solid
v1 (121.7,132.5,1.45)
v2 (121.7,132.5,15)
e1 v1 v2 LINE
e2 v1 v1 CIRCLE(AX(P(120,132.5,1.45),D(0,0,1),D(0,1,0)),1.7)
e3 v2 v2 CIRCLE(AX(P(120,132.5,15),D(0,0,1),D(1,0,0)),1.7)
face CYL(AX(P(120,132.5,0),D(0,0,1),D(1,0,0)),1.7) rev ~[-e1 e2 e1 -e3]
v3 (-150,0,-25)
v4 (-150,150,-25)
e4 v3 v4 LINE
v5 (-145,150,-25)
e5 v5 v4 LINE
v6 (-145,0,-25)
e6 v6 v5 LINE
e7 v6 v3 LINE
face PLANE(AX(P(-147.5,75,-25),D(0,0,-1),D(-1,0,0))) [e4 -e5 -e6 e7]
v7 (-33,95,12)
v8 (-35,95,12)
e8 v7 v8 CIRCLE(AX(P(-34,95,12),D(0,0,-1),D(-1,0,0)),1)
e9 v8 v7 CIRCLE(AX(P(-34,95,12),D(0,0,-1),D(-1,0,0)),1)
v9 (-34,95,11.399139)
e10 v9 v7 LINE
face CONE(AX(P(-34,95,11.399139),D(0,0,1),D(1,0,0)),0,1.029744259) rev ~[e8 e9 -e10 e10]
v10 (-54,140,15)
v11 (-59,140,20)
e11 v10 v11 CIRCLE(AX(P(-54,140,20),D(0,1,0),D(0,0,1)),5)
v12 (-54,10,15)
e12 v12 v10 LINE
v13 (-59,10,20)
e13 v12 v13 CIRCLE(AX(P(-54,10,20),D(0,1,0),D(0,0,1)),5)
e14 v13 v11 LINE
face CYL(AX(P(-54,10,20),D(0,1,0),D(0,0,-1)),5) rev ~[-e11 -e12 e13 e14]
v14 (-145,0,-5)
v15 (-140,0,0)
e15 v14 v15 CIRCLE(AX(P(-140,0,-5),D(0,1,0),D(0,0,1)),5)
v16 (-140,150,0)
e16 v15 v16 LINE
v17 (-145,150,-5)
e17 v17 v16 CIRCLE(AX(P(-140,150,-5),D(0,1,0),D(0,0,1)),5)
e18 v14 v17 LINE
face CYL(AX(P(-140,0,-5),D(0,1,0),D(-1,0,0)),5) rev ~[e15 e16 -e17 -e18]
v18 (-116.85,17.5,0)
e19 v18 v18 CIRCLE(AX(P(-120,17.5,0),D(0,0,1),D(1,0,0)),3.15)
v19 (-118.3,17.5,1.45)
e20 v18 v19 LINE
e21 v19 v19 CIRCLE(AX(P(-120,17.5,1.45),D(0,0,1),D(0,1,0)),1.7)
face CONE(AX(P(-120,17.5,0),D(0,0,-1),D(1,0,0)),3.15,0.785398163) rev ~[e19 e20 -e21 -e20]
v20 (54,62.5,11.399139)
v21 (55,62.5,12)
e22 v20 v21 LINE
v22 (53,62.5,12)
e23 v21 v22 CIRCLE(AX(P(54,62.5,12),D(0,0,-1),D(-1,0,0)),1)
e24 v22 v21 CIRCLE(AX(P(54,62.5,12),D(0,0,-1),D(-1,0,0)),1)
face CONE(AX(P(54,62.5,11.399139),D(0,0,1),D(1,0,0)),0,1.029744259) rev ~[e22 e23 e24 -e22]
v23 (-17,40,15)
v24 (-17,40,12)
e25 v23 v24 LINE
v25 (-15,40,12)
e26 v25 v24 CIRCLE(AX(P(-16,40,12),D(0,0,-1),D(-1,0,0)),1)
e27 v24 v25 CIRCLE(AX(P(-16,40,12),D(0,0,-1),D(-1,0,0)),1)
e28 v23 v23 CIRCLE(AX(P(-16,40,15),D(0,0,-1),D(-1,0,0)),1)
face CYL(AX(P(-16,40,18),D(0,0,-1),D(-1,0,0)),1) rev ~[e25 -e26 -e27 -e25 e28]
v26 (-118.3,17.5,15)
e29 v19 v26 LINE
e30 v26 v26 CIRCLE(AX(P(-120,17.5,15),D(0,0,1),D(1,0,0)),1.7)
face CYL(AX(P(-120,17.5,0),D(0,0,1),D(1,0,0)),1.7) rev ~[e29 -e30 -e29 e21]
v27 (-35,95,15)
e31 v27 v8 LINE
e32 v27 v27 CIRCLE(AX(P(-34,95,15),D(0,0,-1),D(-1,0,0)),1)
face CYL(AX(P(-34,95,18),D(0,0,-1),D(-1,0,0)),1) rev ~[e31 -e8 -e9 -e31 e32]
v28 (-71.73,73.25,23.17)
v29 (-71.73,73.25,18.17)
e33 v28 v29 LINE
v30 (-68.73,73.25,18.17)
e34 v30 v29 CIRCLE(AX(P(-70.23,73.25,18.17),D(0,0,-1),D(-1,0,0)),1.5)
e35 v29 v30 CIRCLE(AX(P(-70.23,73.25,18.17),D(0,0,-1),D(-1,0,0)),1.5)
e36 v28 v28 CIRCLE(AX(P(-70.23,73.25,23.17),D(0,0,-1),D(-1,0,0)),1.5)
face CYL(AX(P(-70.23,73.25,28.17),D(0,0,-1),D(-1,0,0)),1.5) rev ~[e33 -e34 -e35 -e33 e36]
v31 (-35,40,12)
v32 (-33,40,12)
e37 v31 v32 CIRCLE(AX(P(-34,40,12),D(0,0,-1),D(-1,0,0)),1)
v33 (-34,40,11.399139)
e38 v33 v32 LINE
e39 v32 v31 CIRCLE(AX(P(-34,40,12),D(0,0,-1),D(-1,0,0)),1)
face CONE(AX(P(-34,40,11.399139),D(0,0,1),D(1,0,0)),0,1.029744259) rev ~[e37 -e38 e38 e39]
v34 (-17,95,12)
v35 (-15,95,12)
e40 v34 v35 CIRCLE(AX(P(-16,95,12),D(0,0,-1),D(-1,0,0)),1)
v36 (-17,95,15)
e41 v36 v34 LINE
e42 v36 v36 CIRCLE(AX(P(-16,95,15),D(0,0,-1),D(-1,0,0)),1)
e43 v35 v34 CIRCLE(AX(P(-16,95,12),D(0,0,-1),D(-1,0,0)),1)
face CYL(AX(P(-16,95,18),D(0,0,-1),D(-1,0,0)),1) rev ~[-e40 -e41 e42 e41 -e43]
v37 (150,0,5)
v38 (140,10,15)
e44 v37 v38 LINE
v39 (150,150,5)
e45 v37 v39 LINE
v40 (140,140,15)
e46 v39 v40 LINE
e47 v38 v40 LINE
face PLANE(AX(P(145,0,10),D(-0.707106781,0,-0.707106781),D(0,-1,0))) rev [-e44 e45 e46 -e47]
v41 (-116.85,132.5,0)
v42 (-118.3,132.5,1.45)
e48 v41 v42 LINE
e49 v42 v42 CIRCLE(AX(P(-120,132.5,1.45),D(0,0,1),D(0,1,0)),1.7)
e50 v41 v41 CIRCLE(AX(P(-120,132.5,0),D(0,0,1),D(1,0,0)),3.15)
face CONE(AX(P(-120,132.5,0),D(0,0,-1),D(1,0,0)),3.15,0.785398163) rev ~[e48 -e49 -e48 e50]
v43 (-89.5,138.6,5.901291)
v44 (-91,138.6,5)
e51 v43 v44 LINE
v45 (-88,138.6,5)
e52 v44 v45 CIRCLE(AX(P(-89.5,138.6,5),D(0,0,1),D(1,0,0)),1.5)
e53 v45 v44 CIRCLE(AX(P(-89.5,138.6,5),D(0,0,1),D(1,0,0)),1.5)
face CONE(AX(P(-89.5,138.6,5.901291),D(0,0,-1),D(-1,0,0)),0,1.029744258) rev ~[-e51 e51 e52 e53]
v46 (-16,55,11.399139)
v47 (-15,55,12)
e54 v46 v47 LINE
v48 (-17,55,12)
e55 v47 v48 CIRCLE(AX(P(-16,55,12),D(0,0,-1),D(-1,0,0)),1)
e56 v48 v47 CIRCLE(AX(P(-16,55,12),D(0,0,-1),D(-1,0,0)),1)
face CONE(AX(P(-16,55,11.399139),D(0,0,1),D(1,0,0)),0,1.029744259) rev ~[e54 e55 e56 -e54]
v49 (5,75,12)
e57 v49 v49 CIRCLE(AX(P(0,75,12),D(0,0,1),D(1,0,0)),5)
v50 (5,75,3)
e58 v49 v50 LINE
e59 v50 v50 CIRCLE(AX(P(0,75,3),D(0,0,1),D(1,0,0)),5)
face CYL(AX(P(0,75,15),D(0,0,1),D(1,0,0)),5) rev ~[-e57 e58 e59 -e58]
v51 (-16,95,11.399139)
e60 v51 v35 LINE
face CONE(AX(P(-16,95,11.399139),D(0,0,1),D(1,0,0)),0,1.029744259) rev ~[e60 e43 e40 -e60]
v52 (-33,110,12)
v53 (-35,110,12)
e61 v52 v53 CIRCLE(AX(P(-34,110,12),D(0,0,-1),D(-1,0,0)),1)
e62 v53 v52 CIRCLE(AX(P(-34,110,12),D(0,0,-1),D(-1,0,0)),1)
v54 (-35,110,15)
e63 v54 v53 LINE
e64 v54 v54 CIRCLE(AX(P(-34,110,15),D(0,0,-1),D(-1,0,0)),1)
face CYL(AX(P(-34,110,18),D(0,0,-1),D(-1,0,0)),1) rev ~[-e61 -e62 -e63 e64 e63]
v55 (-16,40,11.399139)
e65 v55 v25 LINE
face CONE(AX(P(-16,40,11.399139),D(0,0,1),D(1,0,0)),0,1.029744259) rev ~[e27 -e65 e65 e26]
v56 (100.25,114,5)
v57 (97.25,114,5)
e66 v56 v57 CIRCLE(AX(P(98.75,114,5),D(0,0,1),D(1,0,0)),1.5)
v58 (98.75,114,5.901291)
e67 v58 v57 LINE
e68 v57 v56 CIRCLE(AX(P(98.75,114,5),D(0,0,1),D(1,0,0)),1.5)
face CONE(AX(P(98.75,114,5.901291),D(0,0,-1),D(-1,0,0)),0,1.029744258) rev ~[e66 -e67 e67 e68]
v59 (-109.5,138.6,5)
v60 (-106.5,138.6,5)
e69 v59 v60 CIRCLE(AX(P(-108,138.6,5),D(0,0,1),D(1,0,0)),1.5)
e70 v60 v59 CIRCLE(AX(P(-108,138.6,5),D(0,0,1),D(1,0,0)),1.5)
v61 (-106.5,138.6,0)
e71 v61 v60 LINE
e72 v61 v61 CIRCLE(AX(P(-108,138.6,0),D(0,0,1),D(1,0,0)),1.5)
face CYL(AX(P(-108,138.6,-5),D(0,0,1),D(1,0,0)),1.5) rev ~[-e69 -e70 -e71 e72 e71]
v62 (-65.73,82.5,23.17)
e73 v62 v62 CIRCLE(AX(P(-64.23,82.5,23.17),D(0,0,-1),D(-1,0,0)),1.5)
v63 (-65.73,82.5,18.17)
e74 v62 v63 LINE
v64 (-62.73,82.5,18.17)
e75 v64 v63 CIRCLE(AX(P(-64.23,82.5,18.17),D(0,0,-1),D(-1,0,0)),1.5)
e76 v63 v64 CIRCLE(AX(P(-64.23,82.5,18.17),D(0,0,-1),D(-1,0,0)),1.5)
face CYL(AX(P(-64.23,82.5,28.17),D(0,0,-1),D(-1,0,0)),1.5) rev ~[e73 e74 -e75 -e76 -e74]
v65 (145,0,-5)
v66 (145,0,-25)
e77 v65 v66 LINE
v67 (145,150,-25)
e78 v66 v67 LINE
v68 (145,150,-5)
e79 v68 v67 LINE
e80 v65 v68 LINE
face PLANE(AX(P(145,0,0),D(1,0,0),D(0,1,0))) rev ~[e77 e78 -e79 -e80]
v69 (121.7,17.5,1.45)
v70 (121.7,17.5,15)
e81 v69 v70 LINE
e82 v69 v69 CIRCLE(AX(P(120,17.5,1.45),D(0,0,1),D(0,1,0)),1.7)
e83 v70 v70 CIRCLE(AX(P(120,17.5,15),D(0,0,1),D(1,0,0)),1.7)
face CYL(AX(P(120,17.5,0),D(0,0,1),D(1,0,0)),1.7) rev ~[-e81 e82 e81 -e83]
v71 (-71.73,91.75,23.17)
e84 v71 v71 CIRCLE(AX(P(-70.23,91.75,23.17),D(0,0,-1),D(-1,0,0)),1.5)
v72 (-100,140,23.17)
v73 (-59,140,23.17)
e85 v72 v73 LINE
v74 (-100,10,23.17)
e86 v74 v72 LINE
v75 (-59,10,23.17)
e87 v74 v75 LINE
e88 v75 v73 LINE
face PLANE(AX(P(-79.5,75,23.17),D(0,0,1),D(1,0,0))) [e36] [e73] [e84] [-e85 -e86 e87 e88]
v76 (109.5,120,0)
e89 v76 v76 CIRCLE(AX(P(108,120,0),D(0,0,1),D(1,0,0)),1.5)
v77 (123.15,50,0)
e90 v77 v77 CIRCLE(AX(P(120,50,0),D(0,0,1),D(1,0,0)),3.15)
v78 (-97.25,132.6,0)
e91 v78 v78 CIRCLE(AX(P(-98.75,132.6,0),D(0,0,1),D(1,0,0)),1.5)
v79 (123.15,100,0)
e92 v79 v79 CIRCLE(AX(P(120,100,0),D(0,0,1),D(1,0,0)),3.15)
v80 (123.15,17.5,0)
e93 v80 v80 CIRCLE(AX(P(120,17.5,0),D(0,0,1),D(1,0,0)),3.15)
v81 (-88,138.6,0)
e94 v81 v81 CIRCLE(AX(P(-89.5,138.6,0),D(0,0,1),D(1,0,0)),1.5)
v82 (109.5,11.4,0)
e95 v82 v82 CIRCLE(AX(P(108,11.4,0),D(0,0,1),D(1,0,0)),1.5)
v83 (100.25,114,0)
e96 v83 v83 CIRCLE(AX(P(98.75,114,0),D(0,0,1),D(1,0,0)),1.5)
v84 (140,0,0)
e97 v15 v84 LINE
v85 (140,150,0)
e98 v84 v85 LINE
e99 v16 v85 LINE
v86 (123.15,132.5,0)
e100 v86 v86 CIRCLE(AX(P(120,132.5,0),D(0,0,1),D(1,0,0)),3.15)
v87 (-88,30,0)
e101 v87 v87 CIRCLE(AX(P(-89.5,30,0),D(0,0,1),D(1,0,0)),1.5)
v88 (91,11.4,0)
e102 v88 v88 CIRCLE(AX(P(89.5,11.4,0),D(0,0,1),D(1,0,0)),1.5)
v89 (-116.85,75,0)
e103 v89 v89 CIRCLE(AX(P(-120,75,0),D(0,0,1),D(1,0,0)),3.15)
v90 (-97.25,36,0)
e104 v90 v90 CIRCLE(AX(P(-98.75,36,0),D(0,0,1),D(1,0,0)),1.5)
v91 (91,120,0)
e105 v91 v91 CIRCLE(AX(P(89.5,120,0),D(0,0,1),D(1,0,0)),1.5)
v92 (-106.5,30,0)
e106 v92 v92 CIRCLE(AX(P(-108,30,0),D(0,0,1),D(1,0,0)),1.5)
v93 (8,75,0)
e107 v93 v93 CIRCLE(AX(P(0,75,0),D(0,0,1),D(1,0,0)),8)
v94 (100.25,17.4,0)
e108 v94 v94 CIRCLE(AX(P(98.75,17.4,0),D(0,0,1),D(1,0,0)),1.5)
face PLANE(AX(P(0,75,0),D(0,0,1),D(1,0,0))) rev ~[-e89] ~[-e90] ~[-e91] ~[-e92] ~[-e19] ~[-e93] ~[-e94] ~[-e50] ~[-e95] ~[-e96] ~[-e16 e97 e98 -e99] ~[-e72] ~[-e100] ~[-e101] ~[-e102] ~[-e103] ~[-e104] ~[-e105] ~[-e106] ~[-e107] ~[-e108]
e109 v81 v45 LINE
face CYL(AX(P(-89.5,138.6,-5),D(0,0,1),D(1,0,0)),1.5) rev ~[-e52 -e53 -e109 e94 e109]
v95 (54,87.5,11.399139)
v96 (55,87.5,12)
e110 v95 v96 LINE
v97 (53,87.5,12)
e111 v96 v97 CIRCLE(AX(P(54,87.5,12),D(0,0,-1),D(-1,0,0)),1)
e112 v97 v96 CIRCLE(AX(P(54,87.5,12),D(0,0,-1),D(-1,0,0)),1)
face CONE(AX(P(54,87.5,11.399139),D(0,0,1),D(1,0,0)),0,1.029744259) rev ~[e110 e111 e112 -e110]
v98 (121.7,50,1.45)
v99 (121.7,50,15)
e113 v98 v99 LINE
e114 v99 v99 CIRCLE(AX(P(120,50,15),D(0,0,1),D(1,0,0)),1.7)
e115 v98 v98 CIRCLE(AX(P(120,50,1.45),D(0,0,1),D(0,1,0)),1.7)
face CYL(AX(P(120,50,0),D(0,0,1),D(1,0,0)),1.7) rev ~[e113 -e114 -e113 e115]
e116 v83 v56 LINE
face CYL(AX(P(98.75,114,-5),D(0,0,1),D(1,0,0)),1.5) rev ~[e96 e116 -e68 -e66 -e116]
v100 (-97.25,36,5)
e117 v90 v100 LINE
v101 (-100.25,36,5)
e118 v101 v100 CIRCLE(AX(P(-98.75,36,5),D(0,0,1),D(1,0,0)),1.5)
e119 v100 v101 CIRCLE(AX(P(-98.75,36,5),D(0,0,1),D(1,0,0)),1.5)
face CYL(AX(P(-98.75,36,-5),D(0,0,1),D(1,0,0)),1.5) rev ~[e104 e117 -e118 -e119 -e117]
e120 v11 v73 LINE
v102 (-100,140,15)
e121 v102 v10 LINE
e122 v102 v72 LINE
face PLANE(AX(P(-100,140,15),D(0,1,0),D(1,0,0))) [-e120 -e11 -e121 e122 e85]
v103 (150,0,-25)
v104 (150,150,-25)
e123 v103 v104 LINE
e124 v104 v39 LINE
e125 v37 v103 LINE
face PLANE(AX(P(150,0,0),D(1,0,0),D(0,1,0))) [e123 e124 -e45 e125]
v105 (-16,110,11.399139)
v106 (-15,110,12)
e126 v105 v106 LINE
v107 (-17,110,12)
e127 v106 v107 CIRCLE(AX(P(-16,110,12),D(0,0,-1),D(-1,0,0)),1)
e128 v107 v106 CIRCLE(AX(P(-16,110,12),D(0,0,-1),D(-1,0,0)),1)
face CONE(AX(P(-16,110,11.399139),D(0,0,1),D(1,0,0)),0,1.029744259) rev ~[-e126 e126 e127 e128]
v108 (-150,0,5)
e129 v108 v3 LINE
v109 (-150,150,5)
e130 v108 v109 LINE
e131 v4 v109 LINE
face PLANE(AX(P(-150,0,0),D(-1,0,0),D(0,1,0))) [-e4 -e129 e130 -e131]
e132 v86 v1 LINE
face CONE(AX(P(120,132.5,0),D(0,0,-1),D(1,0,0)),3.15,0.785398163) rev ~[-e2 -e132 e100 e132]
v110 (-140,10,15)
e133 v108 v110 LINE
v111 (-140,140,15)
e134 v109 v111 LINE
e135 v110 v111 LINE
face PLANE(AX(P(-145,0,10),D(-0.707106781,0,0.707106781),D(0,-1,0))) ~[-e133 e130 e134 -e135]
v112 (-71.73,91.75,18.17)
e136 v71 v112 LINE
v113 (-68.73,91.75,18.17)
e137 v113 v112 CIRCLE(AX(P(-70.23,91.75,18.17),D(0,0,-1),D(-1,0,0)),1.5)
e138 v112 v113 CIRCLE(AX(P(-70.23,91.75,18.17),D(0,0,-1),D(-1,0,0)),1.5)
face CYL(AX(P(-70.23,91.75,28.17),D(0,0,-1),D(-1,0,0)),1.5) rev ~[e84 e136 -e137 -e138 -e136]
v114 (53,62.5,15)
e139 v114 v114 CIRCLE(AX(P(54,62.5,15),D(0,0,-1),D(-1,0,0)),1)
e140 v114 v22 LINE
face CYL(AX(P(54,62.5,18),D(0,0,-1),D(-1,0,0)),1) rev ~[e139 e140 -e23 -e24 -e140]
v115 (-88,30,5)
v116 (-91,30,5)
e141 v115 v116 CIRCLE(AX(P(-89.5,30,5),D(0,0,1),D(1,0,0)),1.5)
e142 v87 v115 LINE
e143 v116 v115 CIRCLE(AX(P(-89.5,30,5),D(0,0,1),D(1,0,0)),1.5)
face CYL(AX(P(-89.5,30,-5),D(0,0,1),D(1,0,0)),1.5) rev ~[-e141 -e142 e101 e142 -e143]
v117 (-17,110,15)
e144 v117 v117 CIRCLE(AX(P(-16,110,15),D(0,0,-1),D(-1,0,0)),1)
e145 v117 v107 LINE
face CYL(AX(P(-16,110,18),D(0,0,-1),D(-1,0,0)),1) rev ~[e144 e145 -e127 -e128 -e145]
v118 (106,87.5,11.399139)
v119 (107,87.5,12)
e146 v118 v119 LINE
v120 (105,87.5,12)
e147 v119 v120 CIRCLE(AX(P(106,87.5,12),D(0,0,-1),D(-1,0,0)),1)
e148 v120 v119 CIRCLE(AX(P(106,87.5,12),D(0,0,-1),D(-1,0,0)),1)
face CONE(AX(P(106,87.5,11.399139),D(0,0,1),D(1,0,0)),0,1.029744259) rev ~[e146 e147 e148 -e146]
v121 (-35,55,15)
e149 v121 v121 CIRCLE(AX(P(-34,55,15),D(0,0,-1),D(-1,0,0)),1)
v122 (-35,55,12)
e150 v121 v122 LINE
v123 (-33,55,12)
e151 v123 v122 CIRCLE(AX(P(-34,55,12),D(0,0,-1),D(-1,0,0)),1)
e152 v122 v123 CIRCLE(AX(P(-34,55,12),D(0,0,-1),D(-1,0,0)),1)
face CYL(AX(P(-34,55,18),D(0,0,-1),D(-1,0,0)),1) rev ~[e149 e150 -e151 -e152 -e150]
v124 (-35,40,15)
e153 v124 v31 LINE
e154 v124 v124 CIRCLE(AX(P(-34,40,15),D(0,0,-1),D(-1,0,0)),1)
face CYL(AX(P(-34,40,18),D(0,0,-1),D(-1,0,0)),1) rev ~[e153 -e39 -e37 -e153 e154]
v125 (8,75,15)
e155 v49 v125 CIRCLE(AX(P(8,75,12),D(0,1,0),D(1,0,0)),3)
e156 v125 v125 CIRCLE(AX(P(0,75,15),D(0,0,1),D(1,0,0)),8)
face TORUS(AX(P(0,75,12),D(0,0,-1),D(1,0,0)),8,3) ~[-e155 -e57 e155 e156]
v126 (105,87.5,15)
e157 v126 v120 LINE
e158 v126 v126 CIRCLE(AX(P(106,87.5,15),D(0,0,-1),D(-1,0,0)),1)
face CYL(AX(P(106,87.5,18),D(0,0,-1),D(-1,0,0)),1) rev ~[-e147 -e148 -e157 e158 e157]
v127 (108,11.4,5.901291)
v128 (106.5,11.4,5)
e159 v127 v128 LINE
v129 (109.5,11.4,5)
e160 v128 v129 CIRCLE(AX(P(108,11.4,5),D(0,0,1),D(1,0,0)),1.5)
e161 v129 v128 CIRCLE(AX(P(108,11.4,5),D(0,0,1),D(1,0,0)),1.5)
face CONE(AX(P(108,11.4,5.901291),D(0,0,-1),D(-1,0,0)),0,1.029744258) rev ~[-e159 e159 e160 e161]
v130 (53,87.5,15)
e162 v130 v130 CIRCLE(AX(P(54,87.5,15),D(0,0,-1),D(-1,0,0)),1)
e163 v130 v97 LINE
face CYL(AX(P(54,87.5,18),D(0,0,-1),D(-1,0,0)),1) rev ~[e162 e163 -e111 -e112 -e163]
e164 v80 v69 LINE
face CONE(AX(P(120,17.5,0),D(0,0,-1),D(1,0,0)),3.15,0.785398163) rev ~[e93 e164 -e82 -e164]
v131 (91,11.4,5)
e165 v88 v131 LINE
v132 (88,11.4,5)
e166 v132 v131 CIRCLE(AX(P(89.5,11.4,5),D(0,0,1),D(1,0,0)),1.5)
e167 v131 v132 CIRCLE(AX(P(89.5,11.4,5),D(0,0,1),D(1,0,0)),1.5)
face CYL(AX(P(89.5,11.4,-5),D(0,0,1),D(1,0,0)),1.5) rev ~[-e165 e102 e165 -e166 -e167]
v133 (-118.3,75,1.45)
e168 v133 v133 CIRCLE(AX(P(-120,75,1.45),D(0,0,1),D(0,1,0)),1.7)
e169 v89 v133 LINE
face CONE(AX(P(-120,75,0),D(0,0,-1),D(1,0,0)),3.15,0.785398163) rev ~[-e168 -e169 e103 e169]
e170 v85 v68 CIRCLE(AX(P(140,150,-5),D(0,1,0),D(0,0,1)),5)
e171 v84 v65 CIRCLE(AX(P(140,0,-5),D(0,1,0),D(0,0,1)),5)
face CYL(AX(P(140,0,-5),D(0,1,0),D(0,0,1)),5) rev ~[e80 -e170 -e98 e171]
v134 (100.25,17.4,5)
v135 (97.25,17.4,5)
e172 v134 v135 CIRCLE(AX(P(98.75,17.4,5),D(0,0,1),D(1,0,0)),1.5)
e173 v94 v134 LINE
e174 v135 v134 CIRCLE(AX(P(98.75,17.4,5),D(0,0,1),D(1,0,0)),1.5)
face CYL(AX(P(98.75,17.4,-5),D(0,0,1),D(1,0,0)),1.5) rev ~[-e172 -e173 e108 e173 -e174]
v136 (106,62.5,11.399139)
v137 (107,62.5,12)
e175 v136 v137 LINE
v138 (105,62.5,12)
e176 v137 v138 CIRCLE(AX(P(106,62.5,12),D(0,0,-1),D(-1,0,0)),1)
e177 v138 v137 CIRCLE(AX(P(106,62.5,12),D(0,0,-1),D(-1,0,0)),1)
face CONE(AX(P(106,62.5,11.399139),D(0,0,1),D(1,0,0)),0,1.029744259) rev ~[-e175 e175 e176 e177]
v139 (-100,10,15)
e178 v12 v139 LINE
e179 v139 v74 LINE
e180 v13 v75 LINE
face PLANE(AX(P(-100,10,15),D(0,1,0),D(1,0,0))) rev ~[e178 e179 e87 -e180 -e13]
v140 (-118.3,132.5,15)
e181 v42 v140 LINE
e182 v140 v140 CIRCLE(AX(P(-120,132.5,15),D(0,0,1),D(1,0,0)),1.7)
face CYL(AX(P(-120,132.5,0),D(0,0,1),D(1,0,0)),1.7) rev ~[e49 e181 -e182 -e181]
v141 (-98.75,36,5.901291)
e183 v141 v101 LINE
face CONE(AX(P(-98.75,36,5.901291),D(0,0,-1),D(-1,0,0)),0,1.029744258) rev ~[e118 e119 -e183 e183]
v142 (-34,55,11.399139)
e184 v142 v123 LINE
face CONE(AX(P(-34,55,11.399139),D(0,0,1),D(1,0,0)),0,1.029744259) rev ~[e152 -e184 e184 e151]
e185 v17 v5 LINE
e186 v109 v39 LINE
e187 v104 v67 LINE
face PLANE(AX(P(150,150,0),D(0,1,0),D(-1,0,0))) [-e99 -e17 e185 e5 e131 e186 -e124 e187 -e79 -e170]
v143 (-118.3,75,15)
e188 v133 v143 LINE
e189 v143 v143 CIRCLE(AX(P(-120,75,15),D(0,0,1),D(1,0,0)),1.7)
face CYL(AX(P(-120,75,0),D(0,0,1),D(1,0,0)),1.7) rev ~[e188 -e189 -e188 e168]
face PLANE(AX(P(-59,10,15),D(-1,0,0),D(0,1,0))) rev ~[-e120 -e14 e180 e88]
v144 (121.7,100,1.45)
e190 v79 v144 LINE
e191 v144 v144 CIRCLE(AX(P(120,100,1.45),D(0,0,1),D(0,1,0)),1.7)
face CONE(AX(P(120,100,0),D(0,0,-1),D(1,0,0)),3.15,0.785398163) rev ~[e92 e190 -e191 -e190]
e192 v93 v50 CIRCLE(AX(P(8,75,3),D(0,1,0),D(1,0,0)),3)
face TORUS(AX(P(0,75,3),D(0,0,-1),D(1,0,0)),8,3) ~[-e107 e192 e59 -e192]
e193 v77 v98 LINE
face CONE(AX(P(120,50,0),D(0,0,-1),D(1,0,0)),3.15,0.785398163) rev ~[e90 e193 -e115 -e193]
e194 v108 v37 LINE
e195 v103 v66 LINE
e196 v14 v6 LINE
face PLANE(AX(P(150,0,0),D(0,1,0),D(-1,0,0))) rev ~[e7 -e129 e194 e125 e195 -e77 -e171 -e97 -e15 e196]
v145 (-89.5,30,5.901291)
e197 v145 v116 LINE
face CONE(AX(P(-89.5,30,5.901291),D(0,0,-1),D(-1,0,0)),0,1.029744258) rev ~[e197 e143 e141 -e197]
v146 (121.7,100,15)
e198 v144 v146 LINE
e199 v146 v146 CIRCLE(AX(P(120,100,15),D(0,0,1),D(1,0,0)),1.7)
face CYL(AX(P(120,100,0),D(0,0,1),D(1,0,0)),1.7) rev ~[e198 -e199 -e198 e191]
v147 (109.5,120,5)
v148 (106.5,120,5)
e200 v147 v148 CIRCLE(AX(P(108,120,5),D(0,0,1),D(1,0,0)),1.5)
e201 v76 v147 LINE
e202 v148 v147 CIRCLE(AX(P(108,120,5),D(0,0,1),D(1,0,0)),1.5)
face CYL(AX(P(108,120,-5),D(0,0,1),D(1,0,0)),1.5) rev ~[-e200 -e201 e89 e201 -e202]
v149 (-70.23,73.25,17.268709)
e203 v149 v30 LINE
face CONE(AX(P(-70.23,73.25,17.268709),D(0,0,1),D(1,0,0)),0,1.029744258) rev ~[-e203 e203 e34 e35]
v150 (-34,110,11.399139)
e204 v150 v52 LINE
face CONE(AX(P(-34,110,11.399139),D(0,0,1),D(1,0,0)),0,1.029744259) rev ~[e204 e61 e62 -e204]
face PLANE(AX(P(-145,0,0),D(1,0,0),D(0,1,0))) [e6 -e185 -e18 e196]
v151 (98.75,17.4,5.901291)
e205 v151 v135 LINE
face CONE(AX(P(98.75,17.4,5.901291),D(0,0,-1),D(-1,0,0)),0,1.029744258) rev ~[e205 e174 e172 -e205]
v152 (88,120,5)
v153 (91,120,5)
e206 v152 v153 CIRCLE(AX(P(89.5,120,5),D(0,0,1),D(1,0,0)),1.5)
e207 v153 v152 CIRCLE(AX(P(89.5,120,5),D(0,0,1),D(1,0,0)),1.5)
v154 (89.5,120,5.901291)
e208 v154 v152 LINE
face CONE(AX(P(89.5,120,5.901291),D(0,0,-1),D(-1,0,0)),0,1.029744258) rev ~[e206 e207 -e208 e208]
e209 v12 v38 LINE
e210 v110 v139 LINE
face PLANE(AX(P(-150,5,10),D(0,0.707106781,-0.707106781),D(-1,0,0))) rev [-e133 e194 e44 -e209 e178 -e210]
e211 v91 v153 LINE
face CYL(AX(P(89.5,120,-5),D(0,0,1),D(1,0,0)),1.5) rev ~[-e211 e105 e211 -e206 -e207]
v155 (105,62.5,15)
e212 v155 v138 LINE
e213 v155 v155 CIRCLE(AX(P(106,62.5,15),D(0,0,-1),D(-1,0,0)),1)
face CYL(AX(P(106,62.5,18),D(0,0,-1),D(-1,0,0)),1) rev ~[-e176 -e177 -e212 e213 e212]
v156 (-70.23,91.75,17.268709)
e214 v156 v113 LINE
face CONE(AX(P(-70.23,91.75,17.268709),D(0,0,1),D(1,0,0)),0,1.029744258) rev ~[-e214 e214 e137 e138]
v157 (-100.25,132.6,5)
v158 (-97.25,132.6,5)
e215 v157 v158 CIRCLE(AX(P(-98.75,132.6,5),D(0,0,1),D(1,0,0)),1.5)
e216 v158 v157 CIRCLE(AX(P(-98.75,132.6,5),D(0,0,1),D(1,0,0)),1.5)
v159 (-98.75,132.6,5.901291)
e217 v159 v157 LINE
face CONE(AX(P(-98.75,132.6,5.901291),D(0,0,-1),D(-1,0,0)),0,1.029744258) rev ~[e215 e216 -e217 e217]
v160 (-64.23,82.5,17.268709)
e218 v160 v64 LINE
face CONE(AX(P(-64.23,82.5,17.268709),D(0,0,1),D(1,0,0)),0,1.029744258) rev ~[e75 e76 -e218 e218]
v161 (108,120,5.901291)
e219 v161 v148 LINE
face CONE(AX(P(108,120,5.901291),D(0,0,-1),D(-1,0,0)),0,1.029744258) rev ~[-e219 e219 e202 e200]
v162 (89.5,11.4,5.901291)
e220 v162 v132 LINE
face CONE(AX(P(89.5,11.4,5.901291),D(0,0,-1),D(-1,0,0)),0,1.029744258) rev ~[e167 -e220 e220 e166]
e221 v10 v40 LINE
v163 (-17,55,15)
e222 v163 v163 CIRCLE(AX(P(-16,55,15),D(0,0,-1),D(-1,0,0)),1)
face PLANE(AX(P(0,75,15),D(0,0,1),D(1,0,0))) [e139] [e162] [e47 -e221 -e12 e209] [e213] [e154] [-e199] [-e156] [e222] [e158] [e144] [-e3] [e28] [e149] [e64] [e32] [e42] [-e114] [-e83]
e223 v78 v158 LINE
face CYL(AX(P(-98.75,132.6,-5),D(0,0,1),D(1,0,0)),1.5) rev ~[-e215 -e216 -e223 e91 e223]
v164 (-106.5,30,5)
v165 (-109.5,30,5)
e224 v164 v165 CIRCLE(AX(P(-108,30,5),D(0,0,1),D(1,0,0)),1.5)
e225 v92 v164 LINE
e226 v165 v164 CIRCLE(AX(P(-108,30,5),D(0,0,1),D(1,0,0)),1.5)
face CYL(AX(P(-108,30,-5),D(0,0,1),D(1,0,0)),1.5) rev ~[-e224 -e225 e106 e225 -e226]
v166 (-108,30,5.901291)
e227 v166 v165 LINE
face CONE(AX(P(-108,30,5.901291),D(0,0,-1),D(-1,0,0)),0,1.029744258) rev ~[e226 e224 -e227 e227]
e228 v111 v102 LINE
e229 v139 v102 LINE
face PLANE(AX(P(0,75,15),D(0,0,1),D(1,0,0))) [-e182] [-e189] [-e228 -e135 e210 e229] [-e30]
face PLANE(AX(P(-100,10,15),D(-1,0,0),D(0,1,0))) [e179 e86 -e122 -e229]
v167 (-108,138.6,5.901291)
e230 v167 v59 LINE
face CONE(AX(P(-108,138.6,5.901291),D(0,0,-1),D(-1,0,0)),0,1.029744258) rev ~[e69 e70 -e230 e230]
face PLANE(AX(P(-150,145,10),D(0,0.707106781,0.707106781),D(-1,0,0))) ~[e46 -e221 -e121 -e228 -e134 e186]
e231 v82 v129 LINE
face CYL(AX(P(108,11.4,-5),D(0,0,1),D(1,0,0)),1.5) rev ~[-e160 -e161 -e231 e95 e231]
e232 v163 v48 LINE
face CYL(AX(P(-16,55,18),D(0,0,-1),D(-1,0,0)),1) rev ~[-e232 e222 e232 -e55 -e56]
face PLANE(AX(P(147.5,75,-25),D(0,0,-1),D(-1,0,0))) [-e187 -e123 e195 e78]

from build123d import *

# Parameters (mm, degrees)
SKETCH1_W                                       = 300
SKETCH1_H                                       = 150
BOSS_EXTRUDE1_DEPTH                             = 15
CHAMFER1_SIZE                                   = 10
CSK_FOR_M3_FLAT_HEAD_MACHINE_SCREW1_D           = 3.4
CSK_FOR_M3_FLAT_HEAD_MACHINE_SCREW1_CSINK_D     = 6.3
CSK_FOR_M3_FLAT_HEAD_MACHINE_SCREW1_CSINK_ANGLE = 90
F_3_0MM_DOWEL_HOLE1_D                           = 3
F_3_0MM_DOWEL_HOLE1_DEPTH                       = 5
F_3_0MM_DOWEL_HOLE1_TIP                         = 0.901290929
CSK_FOR_M3_FLAT_HEAD_MACHINE_SCREW2_D           = 3.4
CSK_FOR_M3_FLAT_HEAD_MACHINE_SCREW2_CSINK_D     = 6.3
CSK_FOR_M3_FLAT_HEAD_MACHINE_SCREW2_CSINK_ANGLE = 90
SKETCH9_W                                       = 41
SKETCH9_H                                       = 130
BOSS_EXTRUDE2_DEPTH                             = 8.17
FILLET1_R                                       = 5
F_3_0MM_DOWEL_HOLE2_D                           = 3
F_3_0MM_DOWEL_HOLE2_DEPTH                       = 5
F_3_0MM_DOWEL_HOLE2_TIP                         = 0.901290929
SKETCH12_W                                      = 5
SKETCH12_H                                      = 150
BOSS_EXTRUDE3_DEPTH                             = 25
FILLET2_R                                       = 5
F_2_0MM_DOWEL_HOLE1_D                           = 2
F_2_0MM_DOWEL_HOLE1_DEPTH                       = 3
F_2_0MM_DOWEL_HOLE1_TIP                         = 0.600860619
SKETCH15_R                                      = 5
CUT_EXTRUDE1_DEPTH                              = 216.870331449
FILLET3_R                                       = 3


with BuildPart() as part:
    # Sketch1 → Boss-Extrude1 (new body)
    with BuildSketch(Plane.XY):
        with Locations((0, 75)):
            Rectangle(SKETCH1_W, SKETCH1_H)
    extrude(amount=BOSS_EXTRUDE1_DEPTH)

    # Chamfer1
    chamfer1_edges = [part.edges().sort_by_distance(p)[0] for p in [
        (-150, 75, 15),
        (0, 0, 15),
        (150, 75, 15),
        (0, 150, 15),
    ]]
    chamfer(chamfer1_edges, length=CHAMFER1_SIZE)

    # CSK for M3 Flat Head Machine Screw1 (through all)
    with Locations(Plane(origin=(0, 0, 0), x_dir=(-1, 0, 0), z_dir=(0, 0, -1))):
        with Locations((-120, 132.5), (-120, 17.5), (120, 17.5), (120, 132.5)):
            CounterSinkHole(CSK_FOR_M3_FLAT_HEAD_MACHINE_SCREW1_D / 2, CSK_FOR_M3_FLAT_HEAD_MACHINE_SCREW1_CSINK_D / 2, counter_sink_angle=CSK_FOR_M3_FLAT_HEAD_MACHINE_SCREW1_CSINK_ANGLE)

    # Ø3.0mm Dowel Hole1
    with Locations(Plane(origin=(0, 0, 0), x_dir=(-1, 0, 0), z_dir=(0, 0, -1))):
        with Locations((-108, 120), (-89.5, 120), (-98.75, 114), (-98.75, 17.4), (-108, 11.4), (-89.5, 11.4), (89.5, 30), (108, 30), (98.75, 36), (89.5, 138.6), (108, 138.6), (98.75, 132.6)):
            Hole(F_3_0MM_DOWEL_HOLE1_D / 2, depth=F_3_0MM_DOWEL_HOLE1_DEPTH)
            with Locations((0, 0, -(F_3_0MM_DOWEL_HOLE1_DEPTH + F_3_0MM_DOWEL_HOLE1_TIP / 2))):  # 118° drill point
                Cone(0, F_3_0MM_DOWEL_HOLE1_D / 2, F_3_0MM_DOWEL_HOLE1_TIP, mode=Mode.SUBTRACT)

    # CSK for M3 Flat Head Machine Screw2 (through all)
    with Locations(Plane(origin=(0, 0, 0), x_dir=(-1, 0, 0), z_dir=(0, 0, -1))):
        with Locations((120, 75), (-120, 50), (-120, 100)):
            CounterSinkHole(CSK_FOR_M3_FLAT_HEAD_MACHINE_SCREW2_D / 2, CSK_FOR_M3_FLAT_HEAD_MACHINE_SCREW2_CSINK_D / 2, counter_sink_angle=CSK_FOR_M3_FLAT_HEAD_MACHINE_SCREW2_CSINK_ANGLE)

    # Sketch9 → Boss-Extrude2 (add)
    with BuildSketch(Plane.XY.offset(15)):
        with Locations((-79.5, 75)):
            Rectangle(SKETCH9_W, SKETCH9_H)
    extrude(amount=BOSS_EXTRUDE2_DEPTH)

    # Fillet1
    fillet1_edges = [part.edges().sort_by_distance(p)[0] for p in [
        (-59, 75, 15),
    ]]
    fillet(fillet1_edges, radius=FILLET1_R)

    # Ø3.0mm Dowel Hole2
    with Locations(Plane.XY.offset(23.17)):
        with Locations((-70.23, 91.75), (-70.23, 73.25), (-64.23, 82.5)):
            Hole(F_3_0MM_DOWEL_HOLE2_D / 2, depth=F_3_0MM_DOWEL_HOLE2_DEPTH)
            with Locations((0, 0, -(F_3_0MM_DOWEL_HOLE2_DEPTH + F_3_0MM_DOWEL_HOLE2_TIP / 2))):  # 118° drill point
                Cone(0, F_3_0MM_DOWEL_HOLE2_D / 2, F_3_0MM_DOWEL_HOLE2_TIP, mode=Mode.SUBTRACT)

    # Sketch12 → Boss-Extrude3 (add)
    with BuildSketch(Plane(origin=(0, 0, 0), x_dir=(-1, 0, 0), z_dir=(0, 0, -1))):
        with Locations((-147.5, 75)):
            Rectangle(SKETCH12_W, SKETCH12_H)
        with Locations((147.5, 75)):
            Rectangle(SKETCH12_W, SKETCH12_H)
    extrude(amount=BOSS_EXTRUDE3_DEPTH)

    # Fillet2
    fillet2_edges = [part.edges().sort_by_distance(p)[0] for p in [
        (145, 75, 0),
        (-145, 75, 0),
    ]]
    fillet(fillet2_edges, radius=FILLET2_R)

    # Ø2.0mm Dowel Hole1
    with Locations(Plane.XY.offset(15)):
        with Locations((-34, 110), (-16, 110), (-16, 95), (-34, 95), (-34, 55), (-16, 55), (-16, 40), (-34, 40), (54, 87.5), (106, 87.5), (106, 62.5), (54, 62.5)):
            Hole(F_2_0MM_DOWEL_HOLE1_D / 2, depth=F_2_0MM_DOWEL_HOLE1_DEPTH)
            with Locations((0, 0, -(F_2_0MM_DOWEL_HOLE1_DEPTH + F_2_0MM_DOWEL_HOLE1_TIP / 2))):  # 118° drill point
                Cone(0, F_2_0MM_DOWEL_HOLE1_D / 2, F_2_0MM_DOWEL_HOLE1_TIP, mode=Mode.SUBTRACT)

    # Sketch15 → Cut-Extrude1 (cut, through all)
    with BuildSketch(Plane.XY.offset(15)):
        with Locations((0, 75)):
            Circle(SKETCH15_R)
    extrude(amount=-CUT_EXTRUDE1_DEPTH, mode=Mode.SUBTRACT)

    # Fillet3
    fillet3_edges = [part.edges().sort_by_distance(p)[0] for p in [
        (-5, 75, 0),
        (-5, 75, 15),
    ]]
    fillet(fillet3_edges, radius=FILLET3_R)


solid = part.part
